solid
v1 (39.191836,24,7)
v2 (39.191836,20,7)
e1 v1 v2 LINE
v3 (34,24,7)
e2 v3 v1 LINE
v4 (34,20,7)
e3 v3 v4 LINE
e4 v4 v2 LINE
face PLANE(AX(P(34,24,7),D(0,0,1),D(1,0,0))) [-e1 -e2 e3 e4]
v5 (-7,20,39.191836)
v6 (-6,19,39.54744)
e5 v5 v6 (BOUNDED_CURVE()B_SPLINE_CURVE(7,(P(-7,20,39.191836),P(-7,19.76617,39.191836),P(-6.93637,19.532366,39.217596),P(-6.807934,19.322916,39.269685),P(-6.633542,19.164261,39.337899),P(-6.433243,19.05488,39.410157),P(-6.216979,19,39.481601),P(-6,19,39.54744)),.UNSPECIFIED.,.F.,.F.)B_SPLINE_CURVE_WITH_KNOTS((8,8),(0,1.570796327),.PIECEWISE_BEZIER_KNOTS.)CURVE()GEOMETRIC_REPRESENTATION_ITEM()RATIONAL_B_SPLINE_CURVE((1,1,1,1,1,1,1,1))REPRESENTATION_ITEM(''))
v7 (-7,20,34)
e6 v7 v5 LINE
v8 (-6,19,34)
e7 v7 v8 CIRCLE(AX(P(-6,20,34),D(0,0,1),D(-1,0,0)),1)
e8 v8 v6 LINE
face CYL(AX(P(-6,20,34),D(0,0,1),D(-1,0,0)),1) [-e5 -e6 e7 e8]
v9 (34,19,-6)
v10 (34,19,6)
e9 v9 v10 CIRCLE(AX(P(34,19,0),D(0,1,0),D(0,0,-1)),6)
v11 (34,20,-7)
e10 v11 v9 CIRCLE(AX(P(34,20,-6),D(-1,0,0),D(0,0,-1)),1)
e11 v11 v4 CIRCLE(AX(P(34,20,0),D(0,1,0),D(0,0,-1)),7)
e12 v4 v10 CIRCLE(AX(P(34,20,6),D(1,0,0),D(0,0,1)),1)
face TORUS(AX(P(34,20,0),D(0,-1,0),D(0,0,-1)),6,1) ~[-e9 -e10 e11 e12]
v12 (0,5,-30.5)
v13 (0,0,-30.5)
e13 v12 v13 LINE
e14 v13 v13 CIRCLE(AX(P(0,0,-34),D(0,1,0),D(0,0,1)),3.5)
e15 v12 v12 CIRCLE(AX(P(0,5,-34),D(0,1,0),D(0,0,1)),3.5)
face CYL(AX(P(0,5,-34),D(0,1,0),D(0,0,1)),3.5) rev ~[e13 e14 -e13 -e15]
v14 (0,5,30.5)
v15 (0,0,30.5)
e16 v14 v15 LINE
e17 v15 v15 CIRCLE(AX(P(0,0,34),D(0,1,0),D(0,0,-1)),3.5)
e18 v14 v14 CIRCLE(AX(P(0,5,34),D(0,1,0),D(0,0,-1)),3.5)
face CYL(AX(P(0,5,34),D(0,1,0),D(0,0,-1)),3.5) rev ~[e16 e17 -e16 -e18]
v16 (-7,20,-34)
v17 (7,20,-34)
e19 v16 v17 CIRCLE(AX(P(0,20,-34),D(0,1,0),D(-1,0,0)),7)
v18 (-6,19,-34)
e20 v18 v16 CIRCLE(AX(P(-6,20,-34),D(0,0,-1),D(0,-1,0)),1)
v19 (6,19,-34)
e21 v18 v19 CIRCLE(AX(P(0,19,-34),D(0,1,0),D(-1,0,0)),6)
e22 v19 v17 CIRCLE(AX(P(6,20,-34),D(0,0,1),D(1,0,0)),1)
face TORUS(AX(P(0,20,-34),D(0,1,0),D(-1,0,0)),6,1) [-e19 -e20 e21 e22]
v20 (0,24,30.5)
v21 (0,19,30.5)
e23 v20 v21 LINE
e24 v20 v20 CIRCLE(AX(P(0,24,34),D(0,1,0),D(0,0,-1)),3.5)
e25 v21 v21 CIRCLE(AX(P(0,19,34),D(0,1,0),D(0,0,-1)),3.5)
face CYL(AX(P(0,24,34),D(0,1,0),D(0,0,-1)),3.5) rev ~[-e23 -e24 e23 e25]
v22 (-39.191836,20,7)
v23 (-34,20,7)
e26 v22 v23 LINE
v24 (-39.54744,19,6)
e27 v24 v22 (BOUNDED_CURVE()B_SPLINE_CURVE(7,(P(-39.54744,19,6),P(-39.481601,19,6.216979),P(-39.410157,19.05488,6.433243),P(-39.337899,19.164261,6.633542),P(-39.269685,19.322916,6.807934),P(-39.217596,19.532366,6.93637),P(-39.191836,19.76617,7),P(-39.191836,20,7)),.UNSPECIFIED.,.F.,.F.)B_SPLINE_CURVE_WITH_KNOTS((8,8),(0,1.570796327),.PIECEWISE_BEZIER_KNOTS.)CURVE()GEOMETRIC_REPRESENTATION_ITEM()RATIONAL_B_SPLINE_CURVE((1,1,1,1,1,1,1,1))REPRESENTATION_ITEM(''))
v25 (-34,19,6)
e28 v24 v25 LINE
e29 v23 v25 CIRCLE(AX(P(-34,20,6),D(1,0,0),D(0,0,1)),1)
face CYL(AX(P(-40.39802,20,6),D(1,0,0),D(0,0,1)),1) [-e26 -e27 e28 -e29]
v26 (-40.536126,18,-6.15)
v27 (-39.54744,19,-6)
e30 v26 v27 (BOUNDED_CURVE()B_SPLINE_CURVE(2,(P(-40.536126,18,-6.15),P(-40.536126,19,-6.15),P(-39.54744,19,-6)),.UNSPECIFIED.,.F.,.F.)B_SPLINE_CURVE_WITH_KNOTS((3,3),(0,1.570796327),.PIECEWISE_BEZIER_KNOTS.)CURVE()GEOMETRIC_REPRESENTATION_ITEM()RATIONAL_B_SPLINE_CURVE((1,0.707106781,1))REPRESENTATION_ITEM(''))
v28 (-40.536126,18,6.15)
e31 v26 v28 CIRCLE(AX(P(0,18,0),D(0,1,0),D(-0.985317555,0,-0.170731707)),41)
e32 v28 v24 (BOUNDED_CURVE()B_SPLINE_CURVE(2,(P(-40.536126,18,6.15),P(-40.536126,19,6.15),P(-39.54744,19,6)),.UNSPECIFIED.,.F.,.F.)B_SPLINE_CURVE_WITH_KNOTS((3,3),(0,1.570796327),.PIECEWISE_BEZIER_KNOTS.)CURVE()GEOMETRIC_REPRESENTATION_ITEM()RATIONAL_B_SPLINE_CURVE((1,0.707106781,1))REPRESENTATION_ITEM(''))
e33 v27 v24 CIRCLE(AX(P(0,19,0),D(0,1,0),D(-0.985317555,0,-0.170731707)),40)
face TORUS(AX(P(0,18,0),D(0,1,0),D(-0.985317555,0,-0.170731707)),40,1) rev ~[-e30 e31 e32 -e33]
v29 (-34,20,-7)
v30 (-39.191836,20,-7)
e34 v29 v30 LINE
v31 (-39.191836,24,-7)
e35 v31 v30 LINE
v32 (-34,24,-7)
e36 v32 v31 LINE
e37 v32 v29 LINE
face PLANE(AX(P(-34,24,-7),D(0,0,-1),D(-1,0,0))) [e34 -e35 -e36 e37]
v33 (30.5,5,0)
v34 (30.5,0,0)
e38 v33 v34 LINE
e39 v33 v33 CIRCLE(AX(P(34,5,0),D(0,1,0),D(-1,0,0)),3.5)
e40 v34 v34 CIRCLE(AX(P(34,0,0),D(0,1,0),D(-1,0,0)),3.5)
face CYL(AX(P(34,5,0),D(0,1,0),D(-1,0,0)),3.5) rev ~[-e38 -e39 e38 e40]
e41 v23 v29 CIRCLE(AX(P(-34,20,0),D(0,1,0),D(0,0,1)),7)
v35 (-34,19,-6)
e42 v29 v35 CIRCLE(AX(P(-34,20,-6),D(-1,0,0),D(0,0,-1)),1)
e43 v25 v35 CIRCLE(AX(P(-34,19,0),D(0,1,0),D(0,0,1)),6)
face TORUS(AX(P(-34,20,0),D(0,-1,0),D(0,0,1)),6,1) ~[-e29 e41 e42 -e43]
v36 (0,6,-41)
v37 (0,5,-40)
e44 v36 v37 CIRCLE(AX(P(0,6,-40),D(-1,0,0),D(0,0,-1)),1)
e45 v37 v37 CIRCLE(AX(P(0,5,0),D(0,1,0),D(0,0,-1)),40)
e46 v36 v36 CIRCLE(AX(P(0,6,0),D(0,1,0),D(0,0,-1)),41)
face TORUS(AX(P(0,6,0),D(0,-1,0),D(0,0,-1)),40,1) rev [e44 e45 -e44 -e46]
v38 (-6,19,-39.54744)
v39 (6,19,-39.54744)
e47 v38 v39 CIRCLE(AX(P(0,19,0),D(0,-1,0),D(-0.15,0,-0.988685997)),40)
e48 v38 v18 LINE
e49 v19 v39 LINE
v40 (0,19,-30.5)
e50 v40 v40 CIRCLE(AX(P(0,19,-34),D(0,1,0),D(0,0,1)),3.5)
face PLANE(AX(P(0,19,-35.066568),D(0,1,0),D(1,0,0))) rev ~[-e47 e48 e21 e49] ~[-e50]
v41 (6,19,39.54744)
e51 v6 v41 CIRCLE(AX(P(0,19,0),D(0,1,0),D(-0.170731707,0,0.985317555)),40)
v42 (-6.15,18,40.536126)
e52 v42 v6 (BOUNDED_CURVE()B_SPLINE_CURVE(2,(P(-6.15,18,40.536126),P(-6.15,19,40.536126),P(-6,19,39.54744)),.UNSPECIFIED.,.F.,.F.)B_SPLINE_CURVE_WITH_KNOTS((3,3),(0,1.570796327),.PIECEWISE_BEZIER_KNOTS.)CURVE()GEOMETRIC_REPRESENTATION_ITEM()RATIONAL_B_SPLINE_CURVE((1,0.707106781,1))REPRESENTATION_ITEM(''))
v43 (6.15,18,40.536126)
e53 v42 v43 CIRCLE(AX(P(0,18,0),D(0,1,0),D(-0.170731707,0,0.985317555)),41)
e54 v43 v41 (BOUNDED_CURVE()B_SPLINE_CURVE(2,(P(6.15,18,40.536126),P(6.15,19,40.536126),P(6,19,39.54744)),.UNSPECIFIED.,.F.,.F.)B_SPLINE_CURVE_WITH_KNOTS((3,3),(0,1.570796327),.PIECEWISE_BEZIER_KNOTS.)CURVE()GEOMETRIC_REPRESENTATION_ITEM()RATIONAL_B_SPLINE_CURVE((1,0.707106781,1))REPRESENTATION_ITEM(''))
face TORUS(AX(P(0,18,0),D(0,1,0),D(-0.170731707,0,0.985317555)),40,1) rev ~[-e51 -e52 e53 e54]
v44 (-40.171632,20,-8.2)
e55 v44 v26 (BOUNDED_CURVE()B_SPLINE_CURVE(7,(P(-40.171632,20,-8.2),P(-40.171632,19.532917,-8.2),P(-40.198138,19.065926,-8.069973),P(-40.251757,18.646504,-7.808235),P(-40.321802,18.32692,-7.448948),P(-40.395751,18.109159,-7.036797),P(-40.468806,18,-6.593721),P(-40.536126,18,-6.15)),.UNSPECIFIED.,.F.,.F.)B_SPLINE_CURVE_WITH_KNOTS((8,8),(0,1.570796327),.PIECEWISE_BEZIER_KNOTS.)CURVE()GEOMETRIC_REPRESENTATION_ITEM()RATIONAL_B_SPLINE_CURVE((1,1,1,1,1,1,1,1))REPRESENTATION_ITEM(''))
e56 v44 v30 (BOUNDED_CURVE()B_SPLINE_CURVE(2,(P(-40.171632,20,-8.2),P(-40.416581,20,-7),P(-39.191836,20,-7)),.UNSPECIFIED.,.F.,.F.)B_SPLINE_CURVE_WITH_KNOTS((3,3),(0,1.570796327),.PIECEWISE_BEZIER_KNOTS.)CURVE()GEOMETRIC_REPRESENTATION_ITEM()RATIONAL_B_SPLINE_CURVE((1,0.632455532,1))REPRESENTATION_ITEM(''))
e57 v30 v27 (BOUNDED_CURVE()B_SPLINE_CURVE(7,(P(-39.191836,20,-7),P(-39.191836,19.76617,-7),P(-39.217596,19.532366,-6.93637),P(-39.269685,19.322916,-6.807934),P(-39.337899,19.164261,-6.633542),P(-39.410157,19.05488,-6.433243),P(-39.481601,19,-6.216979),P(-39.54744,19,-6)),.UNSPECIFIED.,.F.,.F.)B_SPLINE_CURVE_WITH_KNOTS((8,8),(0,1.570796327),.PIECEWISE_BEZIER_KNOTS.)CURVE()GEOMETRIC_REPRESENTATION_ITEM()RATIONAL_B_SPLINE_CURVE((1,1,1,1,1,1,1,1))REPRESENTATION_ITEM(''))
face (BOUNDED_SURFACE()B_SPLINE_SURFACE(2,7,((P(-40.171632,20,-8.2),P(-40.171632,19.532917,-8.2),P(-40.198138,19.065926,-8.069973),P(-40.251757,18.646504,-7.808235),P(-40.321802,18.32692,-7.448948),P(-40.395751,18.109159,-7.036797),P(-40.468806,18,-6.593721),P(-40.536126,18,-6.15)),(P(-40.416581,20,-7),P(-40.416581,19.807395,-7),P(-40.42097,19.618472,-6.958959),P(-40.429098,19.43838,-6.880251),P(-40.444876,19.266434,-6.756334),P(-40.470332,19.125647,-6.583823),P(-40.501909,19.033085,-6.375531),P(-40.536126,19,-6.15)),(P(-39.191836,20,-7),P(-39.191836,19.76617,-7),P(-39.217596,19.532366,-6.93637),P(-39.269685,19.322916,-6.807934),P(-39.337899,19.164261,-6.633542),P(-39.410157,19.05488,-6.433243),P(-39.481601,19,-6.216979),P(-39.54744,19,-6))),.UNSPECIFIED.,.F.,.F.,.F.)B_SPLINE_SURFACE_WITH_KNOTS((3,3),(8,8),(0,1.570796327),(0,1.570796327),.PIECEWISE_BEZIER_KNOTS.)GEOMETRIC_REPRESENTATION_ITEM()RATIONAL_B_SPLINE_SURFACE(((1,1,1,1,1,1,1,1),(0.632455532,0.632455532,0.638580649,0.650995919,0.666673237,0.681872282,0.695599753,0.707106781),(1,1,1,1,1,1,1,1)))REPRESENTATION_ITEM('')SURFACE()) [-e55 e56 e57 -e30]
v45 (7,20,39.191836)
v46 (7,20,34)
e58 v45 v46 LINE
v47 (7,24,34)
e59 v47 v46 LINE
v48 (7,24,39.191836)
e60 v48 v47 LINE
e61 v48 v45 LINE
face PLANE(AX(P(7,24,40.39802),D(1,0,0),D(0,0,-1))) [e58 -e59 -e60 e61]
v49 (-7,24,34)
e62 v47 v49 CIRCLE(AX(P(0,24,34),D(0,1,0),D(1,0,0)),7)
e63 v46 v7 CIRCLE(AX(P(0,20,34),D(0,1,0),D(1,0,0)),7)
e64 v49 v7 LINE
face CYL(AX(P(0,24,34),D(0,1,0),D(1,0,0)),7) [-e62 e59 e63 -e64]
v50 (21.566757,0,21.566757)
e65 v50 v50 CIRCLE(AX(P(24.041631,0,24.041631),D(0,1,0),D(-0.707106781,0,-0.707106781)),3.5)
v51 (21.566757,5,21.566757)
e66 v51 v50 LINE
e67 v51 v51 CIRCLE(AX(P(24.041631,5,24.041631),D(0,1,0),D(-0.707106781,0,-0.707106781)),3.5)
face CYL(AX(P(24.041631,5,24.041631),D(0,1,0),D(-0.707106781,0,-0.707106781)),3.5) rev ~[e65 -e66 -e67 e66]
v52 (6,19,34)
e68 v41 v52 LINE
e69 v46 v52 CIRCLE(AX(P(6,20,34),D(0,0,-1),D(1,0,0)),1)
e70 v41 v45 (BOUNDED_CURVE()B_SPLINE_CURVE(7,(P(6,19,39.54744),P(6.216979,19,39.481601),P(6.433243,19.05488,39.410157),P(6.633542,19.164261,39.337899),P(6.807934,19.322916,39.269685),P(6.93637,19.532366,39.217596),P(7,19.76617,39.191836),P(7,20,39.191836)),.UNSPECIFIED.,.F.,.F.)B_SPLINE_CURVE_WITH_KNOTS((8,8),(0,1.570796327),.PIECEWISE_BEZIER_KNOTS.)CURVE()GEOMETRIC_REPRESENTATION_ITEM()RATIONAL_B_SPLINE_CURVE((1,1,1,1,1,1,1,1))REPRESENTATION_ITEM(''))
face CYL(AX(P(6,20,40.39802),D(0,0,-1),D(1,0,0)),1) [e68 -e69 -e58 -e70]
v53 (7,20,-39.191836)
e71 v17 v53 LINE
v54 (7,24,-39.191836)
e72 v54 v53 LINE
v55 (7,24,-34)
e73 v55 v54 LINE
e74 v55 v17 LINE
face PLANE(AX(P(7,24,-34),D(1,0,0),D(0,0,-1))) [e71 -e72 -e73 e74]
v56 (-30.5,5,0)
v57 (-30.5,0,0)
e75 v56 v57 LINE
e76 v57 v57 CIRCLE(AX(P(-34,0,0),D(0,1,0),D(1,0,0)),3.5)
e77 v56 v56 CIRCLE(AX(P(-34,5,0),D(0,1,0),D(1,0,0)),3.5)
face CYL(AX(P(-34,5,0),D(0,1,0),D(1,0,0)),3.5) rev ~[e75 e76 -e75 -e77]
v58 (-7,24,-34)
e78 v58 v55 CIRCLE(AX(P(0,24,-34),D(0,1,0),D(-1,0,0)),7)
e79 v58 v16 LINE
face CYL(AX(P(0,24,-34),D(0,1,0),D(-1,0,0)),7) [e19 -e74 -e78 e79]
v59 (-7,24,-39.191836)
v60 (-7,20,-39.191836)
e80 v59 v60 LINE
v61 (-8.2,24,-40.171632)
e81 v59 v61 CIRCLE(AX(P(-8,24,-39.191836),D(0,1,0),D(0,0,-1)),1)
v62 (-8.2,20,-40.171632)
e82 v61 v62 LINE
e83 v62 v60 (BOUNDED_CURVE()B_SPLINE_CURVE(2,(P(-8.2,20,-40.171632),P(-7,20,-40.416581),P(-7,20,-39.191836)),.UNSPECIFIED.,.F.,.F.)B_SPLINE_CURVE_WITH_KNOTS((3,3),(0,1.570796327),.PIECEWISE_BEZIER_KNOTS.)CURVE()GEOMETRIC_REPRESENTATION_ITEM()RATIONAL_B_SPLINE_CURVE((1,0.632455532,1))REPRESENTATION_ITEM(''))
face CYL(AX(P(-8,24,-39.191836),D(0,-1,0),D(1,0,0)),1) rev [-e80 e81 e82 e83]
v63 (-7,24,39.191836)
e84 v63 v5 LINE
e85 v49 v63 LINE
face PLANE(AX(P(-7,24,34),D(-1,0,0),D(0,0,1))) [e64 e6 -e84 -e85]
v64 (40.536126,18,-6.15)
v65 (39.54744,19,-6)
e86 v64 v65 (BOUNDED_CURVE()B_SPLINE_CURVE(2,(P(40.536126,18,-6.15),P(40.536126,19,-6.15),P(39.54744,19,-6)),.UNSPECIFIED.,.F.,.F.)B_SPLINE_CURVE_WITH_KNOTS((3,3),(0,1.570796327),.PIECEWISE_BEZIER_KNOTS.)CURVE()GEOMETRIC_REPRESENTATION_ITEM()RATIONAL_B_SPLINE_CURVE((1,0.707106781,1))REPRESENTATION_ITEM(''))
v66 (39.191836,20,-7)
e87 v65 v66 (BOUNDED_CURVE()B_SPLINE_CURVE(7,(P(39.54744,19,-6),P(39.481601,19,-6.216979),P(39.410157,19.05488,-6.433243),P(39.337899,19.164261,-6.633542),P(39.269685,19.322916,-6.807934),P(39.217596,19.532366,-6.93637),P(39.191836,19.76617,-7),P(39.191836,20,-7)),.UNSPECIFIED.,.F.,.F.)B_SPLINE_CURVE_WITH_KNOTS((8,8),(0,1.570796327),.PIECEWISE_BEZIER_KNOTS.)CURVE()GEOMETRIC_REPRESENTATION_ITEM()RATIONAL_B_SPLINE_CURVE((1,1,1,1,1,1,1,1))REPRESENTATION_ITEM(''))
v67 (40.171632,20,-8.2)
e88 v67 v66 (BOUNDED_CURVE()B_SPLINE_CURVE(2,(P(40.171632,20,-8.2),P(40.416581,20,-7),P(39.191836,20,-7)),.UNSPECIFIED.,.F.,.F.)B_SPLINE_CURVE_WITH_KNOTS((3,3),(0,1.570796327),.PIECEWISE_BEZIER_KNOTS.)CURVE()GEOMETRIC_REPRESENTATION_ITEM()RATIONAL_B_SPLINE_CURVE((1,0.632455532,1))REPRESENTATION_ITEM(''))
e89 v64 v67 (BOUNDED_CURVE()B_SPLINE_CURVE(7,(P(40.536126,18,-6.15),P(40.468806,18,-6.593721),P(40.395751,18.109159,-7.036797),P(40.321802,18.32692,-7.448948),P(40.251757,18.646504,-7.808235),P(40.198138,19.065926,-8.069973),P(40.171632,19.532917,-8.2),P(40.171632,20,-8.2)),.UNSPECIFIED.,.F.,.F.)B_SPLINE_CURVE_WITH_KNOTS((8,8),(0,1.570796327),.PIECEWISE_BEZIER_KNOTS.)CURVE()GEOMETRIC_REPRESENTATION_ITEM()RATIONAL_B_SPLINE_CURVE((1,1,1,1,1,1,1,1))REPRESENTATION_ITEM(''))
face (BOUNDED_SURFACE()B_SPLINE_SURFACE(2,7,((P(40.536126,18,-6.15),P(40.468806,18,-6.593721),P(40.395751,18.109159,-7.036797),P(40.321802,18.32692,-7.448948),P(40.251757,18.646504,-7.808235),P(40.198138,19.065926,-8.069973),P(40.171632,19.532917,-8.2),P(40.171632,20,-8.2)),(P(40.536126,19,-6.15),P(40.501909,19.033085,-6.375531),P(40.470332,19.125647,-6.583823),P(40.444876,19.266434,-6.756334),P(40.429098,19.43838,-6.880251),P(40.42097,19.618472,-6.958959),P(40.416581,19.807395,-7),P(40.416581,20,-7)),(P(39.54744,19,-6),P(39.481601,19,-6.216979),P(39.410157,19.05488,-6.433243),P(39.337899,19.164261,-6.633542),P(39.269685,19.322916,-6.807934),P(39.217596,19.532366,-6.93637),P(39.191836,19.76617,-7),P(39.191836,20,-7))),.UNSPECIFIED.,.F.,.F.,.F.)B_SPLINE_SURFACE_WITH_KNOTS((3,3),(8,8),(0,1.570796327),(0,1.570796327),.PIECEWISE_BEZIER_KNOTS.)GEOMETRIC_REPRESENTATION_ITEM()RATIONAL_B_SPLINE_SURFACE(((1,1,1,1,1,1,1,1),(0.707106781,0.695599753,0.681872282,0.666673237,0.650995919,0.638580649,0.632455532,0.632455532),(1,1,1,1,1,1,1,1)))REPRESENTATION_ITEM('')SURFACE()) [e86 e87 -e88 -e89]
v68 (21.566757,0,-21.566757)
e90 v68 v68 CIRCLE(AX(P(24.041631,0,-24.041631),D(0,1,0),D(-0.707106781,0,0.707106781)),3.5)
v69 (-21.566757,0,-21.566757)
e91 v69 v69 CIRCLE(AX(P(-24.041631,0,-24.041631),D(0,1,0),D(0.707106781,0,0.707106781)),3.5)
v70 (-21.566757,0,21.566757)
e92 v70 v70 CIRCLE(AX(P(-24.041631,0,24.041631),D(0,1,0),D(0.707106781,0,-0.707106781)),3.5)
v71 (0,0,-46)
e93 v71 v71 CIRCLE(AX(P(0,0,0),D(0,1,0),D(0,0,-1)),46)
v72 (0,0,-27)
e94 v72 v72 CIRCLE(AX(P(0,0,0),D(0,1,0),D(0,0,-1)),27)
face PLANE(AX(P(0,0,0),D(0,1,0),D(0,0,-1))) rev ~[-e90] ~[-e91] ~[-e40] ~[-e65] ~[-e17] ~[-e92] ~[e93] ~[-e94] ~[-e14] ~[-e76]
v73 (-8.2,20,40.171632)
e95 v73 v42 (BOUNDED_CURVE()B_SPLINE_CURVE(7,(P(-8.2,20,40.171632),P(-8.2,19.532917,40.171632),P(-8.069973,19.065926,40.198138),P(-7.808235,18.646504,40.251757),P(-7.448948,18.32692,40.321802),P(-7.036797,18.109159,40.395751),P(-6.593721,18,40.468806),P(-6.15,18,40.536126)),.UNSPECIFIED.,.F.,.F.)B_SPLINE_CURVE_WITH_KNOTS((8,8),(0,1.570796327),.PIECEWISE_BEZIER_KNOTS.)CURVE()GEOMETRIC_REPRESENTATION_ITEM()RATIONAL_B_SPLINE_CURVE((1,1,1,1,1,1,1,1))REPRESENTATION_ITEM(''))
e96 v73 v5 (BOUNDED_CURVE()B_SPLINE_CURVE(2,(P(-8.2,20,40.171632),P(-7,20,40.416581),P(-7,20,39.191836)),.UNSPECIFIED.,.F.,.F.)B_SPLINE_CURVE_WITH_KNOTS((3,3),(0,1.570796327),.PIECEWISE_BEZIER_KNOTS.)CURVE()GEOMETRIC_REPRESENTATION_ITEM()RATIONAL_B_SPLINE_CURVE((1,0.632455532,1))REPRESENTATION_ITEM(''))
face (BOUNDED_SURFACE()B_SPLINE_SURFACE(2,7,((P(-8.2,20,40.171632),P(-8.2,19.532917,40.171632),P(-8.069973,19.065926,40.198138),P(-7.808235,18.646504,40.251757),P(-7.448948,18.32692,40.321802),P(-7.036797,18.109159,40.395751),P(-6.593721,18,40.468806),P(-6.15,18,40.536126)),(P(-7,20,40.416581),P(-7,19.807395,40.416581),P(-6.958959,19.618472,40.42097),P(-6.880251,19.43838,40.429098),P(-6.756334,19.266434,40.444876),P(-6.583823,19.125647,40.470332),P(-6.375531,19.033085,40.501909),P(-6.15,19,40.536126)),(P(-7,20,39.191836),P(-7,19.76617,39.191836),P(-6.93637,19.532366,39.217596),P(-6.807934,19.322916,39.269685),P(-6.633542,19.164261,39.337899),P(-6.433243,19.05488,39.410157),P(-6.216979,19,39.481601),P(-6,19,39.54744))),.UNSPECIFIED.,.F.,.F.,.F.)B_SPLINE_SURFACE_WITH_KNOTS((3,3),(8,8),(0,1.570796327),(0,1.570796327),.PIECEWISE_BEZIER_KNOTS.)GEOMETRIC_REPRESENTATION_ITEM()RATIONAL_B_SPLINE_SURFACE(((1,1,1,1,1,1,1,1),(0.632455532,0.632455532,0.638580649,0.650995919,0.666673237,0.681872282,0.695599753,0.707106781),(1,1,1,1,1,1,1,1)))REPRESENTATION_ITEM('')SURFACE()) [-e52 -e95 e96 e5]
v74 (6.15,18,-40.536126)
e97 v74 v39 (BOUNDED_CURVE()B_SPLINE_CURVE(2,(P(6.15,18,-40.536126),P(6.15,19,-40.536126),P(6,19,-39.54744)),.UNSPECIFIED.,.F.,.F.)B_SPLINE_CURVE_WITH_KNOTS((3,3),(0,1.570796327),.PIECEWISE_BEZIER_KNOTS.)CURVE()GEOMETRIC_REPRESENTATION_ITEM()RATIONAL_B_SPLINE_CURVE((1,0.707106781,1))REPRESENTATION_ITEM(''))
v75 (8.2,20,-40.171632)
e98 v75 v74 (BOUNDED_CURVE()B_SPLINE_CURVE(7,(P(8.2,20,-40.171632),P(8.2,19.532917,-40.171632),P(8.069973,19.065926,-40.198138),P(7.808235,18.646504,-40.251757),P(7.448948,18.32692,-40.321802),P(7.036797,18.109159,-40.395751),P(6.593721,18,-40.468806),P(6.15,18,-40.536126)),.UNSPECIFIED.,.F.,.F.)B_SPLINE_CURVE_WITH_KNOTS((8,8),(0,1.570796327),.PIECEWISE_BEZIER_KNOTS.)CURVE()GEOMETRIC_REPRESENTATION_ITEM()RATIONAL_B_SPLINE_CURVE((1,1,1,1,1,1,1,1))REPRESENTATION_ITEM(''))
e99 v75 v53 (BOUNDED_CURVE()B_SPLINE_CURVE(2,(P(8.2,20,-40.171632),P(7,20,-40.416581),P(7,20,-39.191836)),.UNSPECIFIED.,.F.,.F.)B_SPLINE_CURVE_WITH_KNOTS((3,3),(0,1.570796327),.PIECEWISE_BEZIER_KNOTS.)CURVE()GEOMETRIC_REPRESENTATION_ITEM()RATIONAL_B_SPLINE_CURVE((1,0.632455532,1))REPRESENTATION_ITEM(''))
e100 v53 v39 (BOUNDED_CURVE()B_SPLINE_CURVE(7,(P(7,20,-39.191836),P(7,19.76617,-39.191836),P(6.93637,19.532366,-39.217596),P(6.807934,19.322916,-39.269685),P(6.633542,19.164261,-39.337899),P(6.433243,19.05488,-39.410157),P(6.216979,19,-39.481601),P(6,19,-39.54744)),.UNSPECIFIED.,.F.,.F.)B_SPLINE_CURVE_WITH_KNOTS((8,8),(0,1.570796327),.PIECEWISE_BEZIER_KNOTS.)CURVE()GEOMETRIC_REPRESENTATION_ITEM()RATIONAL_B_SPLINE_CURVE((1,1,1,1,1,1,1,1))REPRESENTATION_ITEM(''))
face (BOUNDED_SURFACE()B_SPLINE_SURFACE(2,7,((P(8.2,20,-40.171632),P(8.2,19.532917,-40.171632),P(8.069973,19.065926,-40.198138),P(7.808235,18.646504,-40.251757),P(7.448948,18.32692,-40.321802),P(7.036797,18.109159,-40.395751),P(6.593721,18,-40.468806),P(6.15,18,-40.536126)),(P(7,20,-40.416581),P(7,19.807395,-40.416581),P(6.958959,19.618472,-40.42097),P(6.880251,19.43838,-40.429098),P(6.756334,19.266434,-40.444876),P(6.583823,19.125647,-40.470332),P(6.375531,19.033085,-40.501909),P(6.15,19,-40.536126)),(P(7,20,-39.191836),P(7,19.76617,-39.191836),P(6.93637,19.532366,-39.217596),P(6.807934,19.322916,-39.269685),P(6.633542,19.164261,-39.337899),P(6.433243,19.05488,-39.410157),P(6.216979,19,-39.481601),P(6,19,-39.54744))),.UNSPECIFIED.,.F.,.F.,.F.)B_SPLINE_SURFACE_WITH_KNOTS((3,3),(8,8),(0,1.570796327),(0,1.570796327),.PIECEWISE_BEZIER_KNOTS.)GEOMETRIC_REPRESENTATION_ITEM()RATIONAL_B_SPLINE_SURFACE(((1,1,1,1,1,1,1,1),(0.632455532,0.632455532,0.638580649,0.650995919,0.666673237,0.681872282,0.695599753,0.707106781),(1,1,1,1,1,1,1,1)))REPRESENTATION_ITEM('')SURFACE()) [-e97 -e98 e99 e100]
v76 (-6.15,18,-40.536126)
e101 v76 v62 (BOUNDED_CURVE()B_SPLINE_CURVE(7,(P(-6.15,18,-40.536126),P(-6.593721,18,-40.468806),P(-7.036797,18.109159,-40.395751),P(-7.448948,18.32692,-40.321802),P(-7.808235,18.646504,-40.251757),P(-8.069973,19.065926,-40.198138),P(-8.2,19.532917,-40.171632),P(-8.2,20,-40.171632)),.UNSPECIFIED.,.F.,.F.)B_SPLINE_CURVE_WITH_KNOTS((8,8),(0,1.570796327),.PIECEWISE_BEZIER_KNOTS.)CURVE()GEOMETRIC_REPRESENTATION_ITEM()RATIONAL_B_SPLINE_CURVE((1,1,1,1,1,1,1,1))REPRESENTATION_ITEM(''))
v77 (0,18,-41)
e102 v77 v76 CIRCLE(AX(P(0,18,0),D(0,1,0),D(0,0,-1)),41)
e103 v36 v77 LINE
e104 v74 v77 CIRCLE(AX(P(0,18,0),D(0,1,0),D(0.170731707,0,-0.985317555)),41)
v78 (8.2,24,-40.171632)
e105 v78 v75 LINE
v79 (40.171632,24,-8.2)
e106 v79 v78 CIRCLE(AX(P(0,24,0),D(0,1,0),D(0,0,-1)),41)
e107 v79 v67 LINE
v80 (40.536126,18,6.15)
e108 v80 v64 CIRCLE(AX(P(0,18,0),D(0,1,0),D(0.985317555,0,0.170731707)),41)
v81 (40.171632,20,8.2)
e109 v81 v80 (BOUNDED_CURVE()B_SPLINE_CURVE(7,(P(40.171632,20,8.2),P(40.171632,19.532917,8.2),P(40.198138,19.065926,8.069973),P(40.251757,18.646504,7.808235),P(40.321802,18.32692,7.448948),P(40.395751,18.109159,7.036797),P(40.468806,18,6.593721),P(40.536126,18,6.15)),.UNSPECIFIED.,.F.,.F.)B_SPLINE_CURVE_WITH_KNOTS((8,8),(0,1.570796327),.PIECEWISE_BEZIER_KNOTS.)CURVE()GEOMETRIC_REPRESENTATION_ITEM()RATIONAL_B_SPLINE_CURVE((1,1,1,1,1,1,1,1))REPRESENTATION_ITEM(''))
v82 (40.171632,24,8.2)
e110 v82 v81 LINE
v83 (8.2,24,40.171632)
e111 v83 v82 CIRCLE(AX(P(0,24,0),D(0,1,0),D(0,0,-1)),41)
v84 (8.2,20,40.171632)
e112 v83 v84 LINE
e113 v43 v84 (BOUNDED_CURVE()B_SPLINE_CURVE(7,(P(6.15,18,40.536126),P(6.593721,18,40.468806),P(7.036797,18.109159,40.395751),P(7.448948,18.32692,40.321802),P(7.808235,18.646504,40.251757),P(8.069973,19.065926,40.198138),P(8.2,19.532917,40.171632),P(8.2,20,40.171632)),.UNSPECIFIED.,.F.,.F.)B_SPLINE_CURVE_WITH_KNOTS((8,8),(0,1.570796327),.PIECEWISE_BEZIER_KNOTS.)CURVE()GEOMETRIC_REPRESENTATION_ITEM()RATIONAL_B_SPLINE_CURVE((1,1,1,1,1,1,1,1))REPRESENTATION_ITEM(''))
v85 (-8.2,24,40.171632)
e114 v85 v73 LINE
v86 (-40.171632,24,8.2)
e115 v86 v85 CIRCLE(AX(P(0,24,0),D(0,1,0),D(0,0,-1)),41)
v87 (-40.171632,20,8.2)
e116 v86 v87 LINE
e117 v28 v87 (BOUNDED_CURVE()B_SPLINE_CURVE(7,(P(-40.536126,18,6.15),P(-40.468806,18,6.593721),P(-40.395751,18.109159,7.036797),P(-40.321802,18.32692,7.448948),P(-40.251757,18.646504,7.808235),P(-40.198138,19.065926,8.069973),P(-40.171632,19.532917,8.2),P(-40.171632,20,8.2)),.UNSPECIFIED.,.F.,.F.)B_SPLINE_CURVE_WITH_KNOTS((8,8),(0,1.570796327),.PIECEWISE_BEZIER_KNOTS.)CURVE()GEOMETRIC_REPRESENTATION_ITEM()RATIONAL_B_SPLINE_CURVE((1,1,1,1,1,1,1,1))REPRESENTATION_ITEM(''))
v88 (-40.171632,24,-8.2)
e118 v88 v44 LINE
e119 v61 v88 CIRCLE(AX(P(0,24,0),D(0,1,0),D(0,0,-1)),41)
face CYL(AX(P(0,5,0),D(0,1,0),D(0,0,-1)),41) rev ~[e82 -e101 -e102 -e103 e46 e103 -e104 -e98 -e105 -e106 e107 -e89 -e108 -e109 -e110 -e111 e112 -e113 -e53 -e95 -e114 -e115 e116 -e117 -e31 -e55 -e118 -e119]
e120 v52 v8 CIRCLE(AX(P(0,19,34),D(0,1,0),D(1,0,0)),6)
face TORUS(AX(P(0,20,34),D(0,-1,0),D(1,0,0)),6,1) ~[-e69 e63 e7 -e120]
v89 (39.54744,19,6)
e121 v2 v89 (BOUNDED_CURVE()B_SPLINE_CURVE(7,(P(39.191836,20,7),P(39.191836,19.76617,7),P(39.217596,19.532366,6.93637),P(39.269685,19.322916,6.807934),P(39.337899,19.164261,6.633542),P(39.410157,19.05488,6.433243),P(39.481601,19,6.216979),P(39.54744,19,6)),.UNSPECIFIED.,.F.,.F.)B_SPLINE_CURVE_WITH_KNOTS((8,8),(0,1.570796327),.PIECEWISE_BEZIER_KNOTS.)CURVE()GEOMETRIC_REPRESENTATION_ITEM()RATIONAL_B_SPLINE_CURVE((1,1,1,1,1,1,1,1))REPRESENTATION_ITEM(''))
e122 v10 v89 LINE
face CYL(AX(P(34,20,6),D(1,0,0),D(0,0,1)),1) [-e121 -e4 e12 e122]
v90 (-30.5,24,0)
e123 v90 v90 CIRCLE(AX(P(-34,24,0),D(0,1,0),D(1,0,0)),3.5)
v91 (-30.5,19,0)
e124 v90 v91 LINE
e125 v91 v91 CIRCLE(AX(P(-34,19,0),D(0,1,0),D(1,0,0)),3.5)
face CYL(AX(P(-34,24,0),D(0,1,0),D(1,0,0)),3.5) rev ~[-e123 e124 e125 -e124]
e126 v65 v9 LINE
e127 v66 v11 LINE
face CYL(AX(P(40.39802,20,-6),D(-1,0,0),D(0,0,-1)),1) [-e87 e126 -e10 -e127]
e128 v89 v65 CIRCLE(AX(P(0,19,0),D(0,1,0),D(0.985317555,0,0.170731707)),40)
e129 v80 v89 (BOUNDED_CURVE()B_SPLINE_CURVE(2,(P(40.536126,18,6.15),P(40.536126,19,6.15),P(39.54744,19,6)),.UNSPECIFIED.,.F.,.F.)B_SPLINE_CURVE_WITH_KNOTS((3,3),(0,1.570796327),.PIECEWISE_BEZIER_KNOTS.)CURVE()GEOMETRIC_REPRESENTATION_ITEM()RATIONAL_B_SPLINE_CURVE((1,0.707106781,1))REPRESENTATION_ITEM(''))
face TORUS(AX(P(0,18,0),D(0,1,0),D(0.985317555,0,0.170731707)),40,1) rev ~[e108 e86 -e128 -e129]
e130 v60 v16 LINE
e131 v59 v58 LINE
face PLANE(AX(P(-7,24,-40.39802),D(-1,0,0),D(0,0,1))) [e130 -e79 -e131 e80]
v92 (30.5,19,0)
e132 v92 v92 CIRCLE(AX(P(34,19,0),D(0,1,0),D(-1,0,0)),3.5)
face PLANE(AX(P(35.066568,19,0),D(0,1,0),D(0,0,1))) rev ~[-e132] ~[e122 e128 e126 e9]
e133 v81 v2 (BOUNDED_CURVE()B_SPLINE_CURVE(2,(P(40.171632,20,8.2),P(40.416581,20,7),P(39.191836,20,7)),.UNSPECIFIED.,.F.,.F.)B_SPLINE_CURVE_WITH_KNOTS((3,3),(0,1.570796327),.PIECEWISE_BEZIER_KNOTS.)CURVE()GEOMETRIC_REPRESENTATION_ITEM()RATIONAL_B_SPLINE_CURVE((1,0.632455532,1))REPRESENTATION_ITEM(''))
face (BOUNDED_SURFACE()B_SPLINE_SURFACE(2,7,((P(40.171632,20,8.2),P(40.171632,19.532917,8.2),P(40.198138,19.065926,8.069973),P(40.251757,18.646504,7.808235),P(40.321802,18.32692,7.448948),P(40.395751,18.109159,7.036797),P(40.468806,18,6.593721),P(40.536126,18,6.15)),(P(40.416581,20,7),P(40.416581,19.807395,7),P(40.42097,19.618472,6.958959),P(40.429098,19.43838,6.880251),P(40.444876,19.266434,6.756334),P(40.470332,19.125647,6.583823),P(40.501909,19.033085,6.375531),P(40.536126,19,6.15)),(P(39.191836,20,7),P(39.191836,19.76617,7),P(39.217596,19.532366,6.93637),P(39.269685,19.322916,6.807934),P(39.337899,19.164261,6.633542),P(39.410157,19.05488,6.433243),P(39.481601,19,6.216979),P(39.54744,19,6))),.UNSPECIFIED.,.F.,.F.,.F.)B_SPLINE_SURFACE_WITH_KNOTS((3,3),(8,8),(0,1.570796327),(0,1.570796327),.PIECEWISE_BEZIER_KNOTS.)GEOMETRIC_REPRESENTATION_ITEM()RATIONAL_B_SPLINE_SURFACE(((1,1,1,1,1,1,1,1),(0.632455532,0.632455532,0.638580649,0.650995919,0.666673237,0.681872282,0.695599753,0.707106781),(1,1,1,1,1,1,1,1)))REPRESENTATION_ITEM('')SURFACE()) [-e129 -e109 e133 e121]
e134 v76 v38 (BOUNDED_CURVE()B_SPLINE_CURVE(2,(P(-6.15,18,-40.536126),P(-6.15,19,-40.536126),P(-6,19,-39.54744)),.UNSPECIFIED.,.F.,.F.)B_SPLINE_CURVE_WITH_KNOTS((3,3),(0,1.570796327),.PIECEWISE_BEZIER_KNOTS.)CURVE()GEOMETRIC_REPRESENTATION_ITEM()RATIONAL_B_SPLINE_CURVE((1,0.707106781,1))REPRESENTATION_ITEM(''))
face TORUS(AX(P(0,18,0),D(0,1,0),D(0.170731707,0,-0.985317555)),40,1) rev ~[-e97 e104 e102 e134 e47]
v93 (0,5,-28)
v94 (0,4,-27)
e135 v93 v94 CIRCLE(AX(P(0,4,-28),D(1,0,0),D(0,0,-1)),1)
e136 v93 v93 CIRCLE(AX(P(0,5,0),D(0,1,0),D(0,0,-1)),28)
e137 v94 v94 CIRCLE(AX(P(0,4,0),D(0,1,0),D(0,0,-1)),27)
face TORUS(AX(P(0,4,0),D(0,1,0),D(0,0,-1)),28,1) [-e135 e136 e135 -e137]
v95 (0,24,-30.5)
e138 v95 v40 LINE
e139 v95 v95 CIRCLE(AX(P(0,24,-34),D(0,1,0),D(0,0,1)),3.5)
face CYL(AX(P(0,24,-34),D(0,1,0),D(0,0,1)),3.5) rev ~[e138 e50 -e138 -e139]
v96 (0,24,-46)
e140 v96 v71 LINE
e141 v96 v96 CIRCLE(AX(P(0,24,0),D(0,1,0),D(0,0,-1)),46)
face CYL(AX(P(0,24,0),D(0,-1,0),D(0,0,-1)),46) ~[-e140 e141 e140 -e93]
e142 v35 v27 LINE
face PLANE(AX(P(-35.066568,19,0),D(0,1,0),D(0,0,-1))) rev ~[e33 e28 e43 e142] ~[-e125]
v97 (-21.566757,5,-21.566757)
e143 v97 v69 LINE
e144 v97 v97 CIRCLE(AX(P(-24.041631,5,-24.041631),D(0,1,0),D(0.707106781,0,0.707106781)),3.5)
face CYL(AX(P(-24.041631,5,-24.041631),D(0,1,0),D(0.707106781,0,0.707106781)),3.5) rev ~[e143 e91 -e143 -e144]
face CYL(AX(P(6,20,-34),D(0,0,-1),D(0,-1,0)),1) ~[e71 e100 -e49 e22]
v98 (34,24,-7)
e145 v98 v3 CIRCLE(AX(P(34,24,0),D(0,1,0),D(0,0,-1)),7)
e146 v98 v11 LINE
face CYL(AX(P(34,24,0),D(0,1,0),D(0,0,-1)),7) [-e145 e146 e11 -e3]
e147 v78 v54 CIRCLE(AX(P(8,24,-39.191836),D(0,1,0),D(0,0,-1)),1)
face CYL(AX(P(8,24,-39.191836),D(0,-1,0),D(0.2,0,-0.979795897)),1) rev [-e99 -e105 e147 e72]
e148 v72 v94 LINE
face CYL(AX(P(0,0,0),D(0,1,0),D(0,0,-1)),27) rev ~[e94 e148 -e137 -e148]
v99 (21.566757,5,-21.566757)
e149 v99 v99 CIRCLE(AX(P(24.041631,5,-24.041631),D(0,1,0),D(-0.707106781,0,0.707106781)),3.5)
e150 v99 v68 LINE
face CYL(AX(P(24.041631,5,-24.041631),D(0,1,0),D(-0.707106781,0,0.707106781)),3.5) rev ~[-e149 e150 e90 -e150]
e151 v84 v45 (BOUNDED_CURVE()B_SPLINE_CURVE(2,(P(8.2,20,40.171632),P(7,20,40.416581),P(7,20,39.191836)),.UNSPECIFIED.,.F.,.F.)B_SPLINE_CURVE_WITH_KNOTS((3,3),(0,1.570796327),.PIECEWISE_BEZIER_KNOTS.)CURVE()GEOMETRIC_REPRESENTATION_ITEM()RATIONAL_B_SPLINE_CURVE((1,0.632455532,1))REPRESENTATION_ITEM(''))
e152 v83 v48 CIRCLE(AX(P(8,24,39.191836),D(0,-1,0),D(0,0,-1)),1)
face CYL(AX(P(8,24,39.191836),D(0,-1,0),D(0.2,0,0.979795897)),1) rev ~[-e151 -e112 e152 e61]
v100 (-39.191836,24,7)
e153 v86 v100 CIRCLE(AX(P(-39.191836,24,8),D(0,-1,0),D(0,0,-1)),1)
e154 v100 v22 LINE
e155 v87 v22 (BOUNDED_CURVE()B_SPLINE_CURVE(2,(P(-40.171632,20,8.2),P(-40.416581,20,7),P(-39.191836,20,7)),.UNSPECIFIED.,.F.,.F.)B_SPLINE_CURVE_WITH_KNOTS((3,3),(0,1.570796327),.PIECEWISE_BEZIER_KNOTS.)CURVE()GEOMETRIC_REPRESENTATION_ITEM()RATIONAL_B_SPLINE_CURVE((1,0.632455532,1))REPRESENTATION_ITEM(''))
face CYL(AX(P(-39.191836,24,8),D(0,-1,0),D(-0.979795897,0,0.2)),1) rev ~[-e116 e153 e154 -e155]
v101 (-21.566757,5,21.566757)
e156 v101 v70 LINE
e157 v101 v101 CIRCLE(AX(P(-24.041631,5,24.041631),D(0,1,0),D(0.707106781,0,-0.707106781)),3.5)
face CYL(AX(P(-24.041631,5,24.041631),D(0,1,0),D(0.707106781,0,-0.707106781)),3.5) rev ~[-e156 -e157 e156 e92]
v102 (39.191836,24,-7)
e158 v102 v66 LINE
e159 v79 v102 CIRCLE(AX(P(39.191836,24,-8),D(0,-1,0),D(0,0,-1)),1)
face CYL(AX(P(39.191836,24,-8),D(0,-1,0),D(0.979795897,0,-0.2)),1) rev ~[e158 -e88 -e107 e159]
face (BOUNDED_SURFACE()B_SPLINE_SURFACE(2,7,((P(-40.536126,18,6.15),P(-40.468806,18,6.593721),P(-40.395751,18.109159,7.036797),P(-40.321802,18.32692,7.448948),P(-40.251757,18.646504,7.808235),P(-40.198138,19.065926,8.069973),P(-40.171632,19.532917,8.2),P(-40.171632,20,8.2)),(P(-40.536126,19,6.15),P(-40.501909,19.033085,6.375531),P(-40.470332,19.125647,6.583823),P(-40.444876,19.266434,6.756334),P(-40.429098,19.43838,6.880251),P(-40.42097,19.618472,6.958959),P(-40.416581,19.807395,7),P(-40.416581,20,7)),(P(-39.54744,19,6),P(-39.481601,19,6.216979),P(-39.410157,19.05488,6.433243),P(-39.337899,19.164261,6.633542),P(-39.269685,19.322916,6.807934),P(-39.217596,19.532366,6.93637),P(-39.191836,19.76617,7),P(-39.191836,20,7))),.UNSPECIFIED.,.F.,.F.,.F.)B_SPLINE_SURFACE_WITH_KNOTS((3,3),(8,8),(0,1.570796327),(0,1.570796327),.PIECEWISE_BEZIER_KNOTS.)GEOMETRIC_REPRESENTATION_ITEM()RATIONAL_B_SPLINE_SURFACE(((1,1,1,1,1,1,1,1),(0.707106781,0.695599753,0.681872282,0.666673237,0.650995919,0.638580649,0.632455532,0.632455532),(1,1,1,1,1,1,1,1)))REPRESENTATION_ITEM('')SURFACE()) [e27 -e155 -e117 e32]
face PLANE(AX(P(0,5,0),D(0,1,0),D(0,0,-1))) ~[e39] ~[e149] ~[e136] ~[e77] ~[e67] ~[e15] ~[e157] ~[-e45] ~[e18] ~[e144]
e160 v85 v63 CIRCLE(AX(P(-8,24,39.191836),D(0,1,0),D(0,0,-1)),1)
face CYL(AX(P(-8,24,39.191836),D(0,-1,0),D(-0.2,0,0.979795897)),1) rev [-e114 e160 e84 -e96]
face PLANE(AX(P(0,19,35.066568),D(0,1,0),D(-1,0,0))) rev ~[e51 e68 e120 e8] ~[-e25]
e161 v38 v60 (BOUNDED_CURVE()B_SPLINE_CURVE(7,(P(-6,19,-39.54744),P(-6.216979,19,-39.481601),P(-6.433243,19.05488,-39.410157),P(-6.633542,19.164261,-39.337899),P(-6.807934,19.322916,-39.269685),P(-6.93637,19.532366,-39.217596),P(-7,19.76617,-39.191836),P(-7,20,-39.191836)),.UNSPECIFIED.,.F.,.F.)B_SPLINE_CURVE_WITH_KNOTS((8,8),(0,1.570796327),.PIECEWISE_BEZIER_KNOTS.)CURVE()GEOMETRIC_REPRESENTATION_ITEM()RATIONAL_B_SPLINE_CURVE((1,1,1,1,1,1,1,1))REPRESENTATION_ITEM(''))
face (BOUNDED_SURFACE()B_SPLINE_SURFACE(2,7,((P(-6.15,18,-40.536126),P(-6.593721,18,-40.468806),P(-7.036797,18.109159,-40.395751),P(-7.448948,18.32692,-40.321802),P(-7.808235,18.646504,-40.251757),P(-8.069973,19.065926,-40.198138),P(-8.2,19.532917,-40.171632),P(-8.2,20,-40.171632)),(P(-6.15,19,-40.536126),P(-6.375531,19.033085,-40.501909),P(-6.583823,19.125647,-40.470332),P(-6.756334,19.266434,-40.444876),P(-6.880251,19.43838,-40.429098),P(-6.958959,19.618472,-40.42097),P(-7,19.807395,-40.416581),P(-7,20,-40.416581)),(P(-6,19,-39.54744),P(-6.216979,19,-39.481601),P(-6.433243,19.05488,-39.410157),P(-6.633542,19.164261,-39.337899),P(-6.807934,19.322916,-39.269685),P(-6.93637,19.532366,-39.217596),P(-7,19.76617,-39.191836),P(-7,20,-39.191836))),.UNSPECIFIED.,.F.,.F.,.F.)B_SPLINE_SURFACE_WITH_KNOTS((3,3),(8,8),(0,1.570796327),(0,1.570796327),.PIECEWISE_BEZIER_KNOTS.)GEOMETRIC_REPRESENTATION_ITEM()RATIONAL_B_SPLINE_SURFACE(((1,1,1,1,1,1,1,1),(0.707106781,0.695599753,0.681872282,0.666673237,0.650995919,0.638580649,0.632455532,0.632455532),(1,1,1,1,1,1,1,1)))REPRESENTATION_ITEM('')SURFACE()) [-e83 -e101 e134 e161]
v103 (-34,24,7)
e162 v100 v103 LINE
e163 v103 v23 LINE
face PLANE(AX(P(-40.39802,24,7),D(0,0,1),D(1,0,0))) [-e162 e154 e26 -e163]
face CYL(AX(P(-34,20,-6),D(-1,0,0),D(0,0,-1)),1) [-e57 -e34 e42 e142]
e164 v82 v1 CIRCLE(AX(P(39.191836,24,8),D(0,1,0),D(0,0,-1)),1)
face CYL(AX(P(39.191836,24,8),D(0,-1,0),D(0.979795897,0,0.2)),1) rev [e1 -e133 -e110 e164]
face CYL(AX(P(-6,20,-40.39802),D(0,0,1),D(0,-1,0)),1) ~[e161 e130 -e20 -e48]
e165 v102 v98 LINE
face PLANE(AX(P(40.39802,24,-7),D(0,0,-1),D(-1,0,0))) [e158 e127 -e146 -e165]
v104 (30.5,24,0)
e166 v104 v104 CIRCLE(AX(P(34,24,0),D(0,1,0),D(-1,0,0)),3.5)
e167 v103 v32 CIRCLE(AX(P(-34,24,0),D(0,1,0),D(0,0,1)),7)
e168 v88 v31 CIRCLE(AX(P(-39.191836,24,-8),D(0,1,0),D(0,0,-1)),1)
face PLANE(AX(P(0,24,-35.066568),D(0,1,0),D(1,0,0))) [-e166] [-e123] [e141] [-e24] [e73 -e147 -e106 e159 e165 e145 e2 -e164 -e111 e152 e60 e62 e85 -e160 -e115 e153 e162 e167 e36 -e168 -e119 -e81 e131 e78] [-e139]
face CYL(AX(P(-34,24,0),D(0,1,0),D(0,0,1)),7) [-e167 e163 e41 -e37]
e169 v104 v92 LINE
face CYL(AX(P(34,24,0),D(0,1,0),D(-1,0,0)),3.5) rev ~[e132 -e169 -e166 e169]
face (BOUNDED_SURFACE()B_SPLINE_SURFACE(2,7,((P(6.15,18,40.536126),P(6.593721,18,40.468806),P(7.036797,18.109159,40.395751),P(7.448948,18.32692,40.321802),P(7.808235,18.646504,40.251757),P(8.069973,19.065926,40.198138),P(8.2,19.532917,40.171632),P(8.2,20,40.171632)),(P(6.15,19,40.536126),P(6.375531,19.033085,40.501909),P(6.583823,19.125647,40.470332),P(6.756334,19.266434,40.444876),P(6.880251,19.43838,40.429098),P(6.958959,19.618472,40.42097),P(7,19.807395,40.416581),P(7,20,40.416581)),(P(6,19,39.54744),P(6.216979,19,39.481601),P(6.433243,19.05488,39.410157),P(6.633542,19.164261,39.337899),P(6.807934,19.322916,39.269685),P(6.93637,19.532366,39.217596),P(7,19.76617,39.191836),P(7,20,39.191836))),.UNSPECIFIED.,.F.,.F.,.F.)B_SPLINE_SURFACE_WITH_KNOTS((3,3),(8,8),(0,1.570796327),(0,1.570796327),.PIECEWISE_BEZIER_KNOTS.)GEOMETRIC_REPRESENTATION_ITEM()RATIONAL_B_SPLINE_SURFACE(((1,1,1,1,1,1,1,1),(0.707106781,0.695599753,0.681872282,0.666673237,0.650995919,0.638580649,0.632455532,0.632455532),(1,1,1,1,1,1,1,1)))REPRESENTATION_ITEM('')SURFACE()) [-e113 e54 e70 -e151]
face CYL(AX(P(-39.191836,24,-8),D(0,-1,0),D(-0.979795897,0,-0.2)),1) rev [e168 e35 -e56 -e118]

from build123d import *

# Parameters (mm, degrees)
SKETCH_2_R                       = 3.5
EXTRUDE_1_DEPTH                  = 5
SKETCH_3_R                       = 3.5
CUT_EXTRUDE_2_DEPTH              = 68.771675499
FILLET_1_R                       = 1
FILLET_2_R                       = 1
PATTERN_CIRCULAR_1_COUNT         = 4
FILLET_1_OF_PATTERN_CIRCULAR_1_R = 1
PATTERN_CIRCULAR_2_COUNT         = 8


with BuildPart() as part:
    # 草圖1 → 旋轉1 (revolve)
    with BuildSketch(Plane.XY, mode=Mode.PRIVATE) as revolve_1_sk:
        Polygon((27, 0), (27, 5), (41, 5), (41, 24), (46, 24), (46, 0), align=None)
    revolve(revolve_1_sk.sketch.rotate(Axis((0, 0, 0), (0, 1, 0)), 90), axis=Axis((0, 0, 0), (0, 1, 0)))

    # 草圖2 → 伸長1 (add)
    with BuildSketch(Plane(origin=(0, 24, 0), x_dir=(1, 0, 0), z_dir=(0, 1, 0))):
        with BuildLine():
            Line((-7, 40.398019753), (-7, 34))
            ThreePointArc((-7, 34), (0, 27), (7, 34))
            Line((7, 34), (7, 40.398019753))
            ThreePointArc((7, 40.398019753), (0, 41), (-7, 40.398019753))
        make_face()
        with Locations(Location((0, 34, 0), (0, 0, 270))):
            Circle(SKETCH_2_R, mode=Mode.SUBTRACT)
    extrude_1 = extrude(amount=-EXTRUDE_1_DEPTH)

    # 草圖3 → 伸長2 (cut, through all)
    with BuildSketch(Plane(origin=(0, 5, 0), x_dir=(1, 0, 0), z_dir=(0, 1, 0))):
        with Locations(Location((0, 34, 0), (0, 0, 270))):
            Circle(SKETCH_3_R)
    cut_extrude_2 = extrude(amount=-CUT_EXTRUDE_2_DEPTH, mode=Mode.SUBTRACT)

    # 圓角1
    fillet_1_edges = [part.edges().sort_by_distance(p)[0] for p in [
        (3.51291831, 19, -40.849227715),
        (-7, 21.5, -40.398019753),
        (7, 19, -37.199009877),
        (7, 21.5, -40.398019753),
        (0, 19, -27),
        (-7, 19, -37.199009877),
    ]]
    fillet(fillet_1_edges, radius=FILLET_1_R)

    # 圓角2
    fillet_2_edges = [part.edges().sort_by_distance(p)[0] for p in [
        (0, 5, 41),
        (0, 5, 27),
    ]]
    fillet(fillet_2_edges, radius=FILLET_2_R)

    # 環狀複製排列1: 伸長1 ×4 about axis
    pattern_circular_1_axis = Axis((0, 24, 0), (0, -1, 0))
    for i in range(1, PATTERN_CIRCULAR_1_COUNT):
        add(extrude_1.rotate(pattern_circular_1_axis, i * 360 / PATTERN_CIRCULAR_1_COUNT))

    # 圓角1 of 環狀複製排列1
    fillet_1_of_pattern_circular_1_edges = [part.edges().sort_by_distance(p)[0] for p in [
        (40.849227715, 19, 3.51291831),
        (40.398019753, 21.5, -7),
        (37.199009877, 19, 7),
        (40.398019753, 21.5, 7),
        (27, 19, 0),
        (37.199009877, 19, -7),
        (-3.51291831, 19, 40.849227715),
        (7, 21.5, 40.398019753),
        (-7, 19, 37.199009877),
        (-7, 21.5, 40.398019753),
        (0, 19, 27),
        (7, 19, 37.199009877),
        (-40.849227715, 19, -3.51291831),
        (-40.398019753, 21.5, 7),
        (-37.199009877, 19, -7),
        (-40.398019753, 21.5, -7),
        (-27, 19, 0),
        (-37.199009877, 19, 7),
    ]]
    fillet(fillet_1_of_pattern_circular_1_edges, radius=FILLET_1_OF_PATTERN_CIRCULAR_1_R)

    # 環狀複製排列2: 伸長2 ×8 about axis
    pattern_circular_2_axis = Axis((0, 0, 0), (0, 1, 0))
    for i in range(1, PATTERN_CIRCULAR_2_COUNT):
        add(cut_extrude_2.rotate(pattern_circular_2_axis, i * 360 / PATTERN_CIRCULAR_2_COUNT), mode=Mode.SUBTRACT)


solid = part.part
